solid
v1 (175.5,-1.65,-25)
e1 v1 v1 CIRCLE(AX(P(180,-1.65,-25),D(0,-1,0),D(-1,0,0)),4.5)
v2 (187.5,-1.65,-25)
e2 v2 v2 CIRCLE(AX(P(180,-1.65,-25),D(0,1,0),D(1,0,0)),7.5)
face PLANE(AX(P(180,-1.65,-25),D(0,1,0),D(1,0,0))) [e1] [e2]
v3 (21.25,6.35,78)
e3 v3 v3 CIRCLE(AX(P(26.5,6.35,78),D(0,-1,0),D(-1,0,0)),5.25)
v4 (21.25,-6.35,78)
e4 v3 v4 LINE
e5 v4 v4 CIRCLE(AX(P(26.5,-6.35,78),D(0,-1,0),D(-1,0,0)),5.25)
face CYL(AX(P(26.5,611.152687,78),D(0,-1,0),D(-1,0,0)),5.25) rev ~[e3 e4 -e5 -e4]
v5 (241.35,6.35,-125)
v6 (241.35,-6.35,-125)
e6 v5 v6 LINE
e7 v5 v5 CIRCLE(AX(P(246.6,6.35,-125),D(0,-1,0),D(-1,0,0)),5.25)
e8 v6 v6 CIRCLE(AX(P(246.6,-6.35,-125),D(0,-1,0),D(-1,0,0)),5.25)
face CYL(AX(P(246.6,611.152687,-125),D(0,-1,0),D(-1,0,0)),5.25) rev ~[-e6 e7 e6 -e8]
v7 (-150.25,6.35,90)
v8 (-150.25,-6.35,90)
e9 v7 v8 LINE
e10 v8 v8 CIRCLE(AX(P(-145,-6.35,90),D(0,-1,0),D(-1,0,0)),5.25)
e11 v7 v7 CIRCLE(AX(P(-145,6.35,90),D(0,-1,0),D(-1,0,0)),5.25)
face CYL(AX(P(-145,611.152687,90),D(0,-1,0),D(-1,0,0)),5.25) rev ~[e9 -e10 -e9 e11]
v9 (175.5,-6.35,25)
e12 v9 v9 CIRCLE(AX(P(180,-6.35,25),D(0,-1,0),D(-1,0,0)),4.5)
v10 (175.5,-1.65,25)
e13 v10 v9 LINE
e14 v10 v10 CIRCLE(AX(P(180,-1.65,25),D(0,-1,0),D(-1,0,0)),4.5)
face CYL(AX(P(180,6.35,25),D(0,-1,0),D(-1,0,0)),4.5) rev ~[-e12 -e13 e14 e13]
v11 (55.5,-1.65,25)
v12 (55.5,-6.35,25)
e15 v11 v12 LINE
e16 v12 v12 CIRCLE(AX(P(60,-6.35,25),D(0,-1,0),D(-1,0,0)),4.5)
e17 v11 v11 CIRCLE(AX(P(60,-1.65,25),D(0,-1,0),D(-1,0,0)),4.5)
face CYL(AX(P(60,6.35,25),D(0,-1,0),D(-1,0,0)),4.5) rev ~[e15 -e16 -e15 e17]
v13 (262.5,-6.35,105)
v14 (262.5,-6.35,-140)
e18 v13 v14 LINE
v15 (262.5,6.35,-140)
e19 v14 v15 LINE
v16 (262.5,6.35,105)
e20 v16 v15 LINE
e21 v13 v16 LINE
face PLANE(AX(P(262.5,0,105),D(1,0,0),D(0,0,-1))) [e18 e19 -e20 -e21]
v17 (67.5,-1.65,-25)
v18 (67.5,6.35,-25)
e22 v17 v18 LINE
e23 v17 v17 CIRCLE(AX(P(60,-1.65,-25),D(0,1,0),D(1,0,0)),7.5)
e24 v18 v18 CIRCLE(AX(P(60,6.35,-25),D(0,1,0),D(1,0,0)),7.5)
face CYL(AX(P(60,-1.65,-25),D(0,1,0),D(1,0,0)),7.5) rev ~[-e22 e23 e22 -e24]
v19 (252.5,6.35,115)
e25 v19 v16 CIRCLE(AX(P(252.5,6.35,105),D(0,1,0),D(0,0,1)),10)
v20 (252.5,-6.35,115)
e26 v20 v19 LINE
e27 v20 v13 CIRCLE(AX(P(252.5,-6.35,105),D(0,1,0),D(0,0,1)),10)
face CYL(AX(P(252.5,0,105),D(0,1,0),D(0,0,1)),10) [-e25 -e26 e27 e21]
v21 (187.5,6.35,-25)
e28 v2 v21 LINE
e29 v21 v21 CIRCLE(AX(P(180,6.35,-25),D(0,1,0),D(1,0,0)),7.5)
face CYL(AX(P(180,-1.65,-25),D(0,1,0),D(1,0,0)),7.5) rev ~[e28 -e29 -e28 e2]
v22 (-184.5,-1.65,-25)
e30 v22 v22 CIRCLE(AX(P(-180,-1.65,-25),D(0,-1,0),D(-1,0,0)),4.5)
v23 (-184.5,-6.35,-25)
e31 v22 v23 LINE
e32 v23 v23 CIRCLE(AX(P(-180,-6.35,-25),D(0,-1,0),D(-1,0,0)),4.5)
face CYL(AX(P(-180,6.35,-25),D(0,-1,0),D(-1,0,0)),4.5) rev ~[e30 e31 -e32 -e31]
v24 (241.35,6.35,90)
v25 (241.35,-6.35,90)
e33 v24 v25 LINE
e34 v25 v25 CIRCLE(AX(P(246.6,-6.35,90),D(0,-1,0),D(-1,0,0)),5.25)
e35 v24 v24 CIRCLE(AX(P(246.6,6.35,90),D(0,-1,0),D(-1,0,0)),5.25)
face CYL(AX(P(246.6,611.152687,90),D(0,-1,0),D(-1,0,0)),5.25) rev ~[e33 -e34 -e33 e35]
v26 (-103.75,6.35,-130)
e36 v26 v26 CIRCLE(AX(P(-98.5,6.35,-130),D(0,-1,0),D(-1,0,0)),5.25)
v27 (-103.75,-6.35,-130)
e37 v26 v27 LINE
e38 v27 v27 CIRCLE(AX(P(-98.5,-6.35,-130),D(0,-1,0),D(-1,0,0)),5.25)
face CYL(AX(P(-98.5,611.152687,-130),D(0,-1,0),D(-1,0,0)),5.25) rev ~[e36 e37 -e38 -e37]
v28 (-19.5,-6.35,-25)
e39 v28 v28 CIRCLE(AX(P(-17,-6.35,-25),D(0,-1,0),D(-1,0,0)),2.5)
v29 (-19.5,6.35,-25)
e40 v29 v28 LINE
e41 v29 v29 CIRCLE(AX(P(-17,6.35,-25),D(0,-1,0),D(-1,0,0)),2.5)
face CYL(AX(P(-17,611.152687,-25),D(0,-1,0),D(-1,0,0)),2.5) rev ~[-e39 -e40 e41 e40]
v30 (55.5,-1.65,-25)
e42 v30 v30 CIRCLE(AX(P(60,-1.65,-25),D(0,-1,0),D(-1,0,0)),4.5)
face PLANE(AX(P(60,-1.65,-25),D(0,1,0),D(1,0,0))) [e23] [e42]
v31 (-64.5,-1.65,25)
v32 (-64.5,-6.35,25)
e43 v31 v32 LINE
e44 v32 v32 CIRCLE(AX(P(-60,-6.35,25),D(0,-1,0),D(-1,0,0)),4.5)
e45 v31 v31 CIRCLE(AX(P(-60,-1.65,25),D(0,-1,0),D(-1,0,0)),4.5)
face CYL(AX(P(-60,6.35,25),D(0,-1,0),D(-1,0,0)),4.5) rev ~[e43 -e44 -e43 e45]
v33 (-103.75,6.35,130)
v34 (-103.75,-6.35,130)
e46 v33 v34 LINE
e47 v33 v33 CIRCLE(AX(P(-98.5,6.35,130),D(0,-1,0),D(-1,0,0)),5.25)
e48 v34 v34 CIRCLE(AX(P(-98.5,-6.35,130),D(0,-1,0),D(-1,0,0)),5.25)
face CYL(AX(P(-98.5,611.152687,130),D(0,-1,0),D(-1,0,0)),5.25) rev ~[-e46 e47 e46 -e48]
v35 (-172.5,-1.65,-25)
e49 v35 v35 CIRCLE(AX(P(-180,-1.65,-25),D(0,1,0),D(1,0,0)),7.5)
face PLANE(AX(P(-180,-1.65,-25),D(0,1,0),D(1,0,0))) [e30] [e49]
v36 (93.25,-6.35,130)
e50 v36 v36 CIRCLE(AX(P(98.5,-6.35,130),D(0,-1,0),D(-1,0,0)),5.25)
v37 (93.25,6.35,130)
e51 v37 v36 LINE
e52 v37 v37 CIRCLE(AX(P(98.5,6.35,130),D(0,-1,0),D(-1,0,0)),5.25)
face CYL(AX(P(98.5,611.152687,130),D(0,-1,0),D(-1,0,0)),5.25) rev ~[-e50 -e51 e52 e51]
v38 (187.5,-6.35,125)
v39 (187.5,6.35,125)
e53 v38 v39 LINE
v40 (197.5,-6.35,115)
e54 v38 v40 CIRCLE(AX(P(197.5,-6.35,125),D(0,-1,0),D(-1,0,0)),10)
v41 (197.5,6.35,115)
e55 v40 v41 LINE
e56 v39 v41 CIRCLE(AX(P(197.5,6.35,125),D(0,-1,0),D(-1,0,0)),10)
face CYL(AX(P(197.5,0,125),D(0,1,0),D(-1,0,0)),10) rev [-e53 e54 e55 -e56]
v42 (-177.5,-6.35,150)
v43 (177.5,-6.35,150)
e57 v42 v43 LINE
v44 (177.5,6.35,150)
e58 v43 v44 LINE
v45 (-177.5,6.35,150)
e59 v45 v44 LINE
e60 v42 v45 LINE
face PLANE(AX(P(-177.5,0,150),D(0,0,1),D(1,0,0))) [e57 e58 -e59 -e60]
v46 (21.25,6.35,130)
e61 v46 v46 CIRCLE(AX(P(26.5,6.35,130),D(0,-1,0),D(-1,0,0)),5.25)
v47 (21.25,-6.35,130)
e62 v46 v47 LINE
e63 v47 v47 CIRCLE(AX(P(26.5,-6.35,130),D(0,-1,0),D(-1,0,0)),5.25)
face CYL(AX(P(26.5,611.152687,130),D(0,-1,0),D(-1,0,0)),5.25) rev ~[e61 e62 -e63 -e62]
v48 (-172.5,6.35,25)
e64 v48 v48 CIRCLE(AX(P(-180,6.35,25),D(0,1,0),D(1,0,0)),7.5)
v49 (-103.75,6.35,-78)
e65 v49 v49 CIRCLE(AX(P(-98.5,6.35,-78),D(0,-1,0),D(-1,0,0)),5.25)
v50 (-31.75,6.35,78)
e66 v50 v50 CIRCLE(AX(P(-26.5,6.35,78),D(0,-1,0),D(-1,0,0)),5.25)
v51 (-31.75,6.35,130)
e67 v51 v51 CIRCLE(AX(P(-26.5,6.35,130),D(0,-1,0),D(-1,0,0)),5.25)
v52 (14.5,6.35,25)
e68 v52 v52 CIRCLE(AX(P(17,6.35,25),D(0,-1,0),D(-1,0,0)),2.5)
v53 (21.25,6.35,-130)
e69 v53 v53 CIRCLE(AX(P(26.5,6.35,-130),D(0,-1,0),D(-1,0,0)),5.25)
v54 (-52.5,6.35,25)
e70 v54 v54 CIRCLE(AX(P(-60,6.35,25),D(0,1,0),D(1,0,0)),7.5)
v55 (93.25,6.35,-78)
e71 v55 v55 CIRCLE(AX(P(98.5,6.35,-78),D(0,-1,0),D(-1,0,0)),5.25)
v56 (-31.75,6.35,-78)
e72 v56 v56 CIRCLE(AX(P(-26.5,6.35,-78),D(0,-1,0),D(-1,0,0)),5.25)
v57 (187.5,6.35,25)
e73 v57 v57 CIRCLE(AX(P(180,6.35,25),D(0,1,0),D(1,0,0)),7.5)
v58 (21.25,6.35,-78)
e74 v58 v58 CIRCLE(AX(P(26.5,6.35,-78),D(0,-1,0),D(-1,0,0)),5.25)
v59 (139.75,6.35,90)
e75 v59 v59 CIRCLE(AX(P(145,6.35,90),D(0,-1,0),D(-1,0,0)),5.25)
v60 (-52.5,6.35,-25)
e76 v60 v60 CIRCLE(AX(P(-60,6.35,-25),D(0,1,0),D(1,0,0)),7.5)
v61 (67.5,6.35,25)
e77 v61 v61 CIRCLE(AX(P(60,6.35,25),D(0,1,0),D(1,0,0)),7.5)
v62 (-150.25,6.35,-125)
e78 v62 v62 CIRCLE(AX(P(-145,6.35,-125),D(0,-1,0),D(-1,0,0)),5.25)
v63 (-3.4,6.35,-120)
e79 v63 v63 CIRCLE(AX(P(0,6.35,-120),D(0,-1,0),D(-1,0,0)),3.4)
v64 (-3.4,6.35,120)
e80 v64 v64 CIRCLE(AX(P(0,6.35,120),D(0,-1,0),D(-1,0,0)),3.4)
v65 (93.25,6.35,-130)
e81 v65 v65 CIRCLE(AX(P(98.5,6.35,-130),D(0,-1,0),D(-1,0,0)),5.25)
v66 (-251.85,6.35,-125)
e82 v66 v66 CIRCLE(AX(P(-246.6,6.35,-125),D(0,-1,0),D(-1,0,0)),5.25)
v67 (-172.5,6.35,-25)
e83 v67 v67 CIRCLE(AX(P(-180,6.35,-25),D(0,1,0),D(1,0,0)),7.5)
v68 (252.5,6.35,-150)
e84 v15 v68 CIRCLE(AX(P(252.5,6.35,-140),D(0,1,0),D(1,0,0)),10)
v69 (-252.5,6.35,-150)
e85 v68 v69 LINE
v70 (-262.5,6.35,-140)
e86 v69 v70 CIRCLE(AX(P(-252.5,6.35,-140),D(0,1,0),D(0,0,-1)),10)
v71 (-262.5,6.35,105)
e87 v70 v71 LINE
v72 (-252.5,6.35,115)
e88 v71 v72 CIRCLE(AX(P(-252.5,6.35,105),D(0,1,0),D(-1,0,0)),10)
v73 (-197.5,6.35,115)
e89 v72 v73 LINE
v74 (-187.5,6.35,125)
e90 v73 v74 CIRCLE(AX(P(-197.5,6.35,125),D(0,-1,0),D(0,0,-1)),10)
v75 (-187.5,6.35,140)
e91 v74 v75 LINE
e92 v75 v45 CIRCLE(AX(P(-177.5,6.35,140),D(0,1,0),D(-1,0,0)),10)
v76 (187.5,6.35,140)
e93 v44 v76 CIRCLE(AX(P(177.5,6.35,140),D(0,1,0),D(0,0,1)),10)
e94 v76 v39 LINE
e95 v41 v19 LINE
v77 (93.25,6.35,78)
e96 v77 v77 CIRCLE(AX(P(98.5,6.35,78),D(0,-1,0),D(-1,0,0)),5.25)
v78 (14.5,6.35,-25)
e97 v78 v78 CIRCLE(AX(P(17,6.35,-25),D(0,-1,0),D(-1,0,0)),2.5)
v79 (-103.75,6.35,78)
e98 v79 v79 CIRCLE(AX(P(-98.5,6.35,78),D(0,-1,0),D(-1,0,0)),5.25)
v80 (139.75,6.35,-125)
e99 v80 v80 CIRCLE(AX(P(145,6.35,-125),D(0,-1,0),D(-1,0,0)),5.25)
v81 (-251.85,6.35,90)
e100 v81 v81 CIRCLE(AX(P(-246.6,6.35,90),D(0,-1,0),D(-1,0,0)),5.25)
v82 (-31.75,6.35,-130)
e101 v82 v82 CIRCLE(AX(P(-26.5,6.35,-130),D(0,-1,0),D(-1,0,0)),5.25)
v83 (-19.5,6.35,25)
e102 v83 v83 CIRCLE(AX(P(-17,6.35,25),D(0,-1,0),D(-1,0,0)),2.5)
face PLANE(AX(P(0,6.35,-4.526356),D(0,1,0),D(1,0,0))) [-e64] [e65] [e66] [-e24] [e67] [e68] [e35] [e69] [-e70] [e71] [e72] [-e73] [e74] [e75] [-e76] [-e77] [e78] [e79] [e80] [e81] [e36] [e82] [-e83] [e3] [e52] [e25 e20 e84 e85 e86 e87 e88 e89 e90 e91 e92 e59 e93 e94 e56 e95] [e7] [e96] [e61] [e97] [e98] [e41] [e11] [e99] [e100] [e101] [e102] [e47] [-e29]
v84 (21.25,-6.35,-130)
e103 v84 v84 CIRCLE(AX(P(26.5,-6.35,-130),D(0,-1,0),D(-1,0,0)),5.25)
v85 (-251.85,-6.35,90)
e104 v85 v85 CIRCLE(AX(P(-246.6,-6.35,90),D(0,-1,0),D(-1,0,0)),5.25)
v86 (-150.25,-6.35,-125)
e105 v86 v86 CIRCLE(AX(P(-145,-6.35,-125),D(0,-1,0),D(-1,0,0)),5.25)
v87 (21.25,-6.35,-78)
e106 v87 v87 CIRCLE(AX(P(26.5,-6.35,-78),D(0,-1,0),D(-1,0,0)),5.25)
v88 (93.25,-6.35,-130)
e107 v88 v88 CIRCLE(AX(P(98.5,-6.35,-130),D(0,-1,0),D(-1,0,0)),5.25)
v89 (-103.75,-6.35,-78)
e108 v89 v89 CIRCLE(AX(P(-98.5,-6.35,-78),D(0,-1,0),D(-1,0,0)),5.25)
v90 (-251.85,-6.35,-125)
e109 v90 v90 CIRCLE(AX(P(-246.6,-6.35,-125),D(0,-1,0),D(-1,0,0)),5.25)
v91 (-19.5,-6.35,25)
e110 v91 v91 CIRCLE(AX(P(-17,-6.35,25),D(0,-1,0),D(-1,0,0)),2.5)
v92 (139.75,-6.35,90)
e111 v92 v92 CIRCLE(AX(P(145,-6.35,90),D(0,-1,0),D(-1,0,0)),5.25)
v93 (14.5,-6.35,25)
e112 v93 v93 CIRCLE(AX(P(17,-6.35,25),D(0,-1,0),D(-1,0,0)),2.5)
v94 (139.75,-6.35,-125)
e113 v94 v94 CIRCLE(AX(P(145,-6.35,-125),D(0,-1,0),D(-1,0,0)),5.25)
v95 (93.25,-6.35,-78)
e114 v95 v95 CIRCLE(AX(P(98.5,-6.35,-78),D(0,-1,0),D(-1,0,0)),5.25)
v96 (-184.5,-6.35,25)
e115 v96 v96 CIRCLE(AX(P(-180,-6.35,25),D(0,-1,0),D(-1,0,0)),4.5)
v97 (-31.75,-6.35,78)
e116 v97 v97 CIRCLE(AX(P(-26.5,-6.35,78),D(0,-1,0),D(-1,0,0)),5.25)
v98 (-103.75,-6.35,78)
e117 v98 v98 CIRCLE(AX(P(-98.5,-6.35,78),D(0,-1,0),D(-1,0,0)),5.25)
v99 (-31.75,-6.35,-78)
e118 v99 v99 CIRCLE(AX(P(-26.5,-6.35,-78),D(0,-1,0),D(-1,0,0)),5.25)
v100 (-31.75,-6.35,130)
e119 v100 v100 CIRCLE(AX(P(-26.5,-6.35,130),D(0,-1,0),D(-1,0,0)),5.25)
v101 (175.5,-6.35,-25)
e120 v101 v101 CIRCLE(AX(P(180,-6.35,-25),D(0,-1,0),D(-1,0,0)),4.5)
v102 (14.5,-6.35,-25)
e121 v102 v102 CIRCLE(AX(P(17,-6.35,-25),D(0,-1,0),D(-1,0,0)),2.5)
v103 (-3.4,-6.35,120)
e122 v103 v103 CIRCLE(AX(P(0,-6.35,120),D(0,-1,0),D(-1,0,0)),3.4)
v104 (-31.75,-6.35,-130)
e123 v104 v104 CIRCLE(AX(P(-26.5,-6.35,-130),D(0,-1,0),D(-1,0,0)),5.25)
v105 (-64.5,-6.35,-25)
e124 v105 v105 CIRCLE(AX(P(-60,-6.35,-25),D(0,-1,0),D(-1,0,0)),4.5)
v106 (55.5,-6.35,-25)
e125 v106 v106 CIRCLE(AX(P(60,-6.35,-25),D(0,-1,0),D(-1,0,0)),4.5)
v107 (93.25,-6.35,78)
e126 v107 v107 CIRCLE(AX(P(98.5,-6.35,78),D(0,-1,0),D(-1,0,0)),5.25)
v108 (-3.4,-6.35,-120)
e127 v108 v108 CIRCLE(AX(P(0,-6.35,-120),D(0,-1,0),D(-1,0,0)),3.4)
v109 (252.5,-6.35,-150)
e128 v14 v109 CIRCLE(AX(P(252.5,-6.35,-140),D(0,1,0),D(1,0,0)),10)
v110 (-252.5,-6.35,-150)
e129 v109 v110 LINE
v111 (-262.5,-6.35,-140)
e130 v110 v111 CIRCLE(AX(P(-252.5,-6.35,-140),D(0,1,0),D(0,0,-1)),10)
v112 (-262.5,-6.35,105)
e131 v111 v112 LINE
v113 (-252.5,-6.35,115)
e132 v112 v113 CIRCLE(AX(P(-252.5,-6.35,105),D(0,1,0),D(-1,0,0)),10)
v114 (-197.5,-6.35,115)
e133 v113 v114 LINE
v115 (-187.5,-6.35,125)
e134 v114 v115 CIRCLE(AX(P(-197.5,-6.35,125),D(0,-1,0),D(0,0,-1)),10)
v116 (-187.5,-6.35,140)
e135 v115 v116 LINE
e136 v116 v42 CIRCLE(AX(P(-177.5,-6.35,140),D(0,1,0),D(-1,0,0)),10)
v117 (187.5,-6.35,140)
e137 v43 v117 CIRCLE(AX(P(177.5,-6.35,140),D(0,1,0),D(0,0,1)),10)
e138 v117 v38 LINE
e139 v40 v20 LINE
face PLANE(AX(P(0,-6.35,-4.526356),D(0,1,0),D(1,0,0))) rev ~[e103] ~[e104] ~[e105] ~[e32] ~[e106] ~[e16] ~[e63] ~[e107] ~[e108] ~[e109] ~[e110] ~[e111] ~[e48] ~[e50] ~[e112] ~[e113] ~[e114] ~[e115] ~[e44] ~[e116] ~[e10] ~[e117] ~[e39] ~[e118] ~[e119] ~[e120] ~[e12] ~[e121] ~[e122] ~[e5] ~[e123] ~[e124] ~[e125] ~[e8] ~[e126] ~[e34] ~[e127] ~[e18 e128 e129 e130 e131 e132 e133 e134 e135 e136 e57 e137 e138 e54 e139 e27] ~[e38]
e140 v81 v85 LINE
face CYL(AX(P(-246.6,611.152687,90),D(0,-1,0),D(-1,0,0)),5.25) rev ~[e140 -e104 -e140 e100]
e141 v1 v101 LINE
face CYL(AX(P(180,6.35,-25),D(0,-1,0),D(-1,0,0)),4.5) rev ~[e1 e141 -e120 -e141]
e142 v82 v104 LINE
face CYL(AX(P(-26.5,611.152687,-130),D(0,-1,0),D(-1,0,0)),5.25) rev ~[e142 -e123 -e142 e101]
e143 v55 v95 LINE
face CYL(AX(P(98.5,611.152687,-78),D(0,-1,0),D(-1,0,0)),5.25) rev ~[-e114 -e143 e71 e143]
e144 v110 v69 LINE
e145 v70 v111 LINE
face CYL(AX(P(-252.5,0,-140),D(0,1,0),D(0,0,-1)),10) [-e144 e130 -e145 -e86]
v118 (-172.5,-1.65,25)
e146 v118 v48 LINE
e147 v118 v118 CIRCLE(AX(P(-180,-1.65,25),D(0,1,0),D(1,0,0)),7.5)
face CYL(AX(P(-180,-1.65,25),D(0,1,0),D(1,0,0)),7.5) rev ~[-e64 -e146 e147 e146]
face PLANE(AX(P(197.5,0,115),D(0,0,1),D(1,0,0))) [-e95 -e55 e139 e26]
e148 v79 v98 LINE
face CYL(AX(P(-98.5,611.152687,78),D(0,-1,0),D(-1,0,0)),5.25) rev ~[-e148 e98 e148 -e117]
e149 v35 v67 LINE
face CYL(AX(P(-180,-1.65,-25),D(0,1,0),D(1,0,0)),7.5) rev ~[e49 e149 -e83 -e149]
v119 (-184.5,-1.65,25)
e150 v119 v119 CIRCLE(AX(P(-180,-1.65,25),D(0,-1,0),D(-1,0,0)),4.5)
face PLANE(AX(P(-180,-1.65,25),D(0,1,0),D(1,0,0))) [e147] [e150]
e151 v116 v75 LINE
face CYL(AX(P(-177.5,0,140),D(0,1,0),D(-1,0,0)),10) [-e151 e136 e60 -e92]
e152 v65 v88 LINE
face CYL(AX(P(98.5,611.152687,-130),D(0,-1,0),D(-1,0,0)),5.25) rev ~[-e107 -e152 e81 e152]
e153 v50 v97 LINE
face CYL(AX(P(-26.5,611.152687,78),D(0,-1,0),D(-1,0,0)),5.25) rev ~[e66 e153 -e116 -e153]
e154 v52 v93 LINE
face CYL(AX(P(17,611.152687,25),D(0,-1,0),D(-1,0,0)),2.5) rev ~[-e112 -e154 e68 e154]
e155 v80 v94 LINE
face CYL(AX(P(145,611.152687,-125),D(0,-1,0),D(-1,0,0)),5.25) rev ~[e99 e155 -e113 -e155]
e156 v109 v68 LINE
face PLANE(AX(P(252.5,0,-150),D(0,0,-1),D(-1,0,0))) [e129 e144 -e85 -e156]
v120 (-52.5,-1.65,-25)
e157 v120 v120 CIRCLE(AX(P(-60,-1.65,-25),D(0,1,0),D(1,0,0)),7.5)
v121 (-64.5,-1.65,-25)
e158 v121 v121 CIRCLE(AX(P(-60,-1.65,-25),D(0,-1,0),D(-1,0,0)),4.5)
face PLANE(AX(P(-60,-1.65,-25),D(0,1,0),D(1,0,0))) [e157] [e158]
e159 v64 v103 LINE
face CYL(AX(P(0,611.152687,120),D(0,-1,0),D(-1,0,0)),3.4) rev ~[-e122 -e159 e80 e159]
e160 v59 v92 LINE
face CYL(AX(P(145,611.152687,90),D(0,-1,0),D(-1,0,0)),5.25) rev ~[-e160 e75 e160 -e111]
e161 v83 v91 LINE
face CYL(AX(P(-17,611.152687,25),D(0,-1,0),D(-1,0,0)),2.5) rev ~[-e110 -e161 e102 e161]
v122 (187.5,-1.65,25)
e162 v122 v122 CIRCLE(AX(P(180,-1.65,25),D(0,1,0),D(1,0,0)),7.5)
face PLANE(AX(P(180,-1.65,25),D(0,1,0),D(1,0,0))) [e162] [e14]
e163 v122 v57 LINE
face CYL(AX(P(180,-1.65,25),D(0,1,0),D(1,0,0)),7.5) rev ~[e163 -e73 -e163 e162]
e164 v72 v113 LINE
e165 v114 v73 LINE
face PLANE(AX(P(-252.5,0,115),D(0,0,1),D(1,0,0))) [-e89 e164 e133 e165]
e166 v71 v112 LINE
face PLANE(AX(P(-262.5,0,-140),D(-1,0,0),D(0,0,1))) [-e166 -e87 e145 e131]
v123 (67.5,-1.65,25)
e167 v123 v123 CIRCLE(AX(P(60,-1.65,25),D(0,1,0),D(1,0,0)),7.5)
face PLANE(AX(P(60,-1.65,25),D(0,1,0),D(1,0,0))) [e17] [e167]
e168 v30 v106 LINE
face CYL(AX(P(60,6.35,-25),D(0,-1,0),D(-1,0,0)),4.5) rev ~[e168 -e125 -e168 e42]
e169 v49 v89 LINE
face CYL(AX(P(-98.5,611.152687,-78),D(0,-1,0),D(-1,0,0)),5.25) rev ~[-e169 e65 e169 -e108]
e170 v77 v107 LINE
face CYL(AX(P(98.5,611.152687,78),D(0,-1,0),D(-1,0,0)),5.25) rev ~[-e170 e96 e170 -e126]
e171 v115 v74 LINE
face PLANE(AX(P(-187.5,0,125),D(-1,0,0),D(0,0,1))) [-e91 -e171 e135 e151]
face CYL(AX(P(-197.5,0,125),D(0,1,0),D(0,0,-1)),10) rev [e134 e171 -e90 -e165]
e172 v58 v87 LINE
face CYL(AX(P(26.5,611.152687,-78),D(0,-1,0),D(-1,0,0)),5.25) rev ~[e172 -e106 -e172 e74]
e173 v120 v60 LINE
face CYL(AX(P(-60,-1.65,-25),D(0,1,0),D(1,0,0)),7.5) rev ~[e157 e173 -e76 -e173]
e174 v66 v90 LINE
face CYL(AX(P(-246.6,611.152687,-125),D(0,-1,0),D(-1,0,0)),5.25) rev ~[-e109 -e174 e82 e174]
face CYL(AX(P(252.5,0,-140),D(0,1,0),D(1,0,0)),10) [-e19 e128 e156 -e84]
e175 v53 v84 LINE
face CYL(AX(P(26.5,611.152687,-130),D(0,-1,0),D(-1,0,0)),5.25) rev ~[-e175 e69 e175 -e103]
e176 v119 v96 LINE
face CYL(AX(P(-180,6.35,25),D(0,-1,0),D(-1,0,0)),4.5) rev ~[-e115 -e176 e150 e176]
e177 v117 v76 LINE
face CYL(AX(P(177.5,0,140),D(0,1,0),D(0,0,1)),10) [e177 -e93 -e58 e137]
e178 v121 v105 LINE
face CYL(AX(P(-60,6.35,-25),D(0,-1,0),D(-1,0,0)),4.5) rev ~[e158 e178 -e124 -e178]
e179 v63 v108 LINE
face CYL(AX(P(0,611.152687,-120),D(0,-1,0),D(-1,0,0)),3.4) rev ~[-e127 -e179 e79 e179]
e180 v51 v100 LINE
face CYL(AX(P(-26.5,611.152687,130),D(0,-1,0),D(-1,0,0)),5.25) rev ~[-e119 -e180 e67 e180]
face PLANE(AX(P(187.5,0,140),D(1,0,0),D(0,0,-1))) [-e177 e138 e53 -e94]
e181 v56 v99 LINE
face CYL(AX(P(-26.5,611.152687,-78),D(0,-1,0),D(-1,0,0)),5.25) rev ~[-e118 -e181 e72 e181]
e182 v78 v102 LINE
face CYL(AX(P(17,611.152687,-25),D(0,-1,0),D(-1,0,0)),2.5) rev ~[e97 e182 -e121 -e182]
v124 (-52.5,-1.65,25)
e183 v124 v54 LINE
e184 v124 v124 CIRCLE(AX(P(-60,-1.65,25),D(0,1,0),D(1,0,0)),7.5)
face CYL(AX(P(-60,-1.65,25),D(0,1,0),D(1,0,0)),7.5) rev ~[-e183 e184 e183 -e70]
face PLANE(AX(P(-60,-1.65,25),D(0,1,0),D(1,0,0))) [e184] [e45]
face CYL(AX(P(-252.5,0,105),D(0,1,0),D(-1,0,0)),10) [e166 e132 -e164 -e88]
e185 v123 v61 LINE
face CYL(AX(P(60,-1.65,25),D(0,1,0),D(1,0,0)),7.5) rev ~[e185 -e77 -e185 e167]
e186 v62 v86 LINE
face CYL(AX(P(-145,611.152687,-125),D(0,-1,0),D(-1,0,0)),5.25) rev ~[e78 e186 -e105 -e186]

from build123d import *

# Parameters (mm, degrees)
BOSS_EXTRUDE1_DEPTH            = 6.35
M10_CLEARANCE_HOLE1_D          = 10.5
CBORE_FOR_M8_SHCS1_D           = 9
CBORE_FOR_M8_SHCS1_CBORE_D     = 15
CBORE_FOR_M8_SHCS1_CBORE_DEPTH = 8
LPATTERN1_COUNT                = 2
LPATTERN1_PITCH                = 120
LPATTERN1_COL_COUNT            = 3
LPATTERN1_COL_PITCH            = 120
M6X1_0_TAPPED_HOLE1_D          = 5
M8X1_25_TAPPED_HOLE1_D         = 6.8


with BuildPart() as part:
    # Sketch1 → Boss-Extrude1 (new, symmetric)
    with BuildSketch(Plane(origin=(0, 0, 0), x_dir=(1, 0, 0), z_dir=(0, 1, 0))):
        with BuildLine():
            Line((-252.5, -115), (-197.5, -115))
            ThreePointArc((-197.5, -115), (-190.428932188, -117.928932188), (-187.5, -125))
            Line((-187.5, -125), (-187.5, -140))
            ThreePointArc((-187.5, -140), (-184.571067812, -147.071067812), (-177.5, -150))
            Line((-177.5, -150), (177.5, -150))
            ThreePointArc((177.5, -150), (184.571067812, -147.071067812), (187.5, -140))
            Line((187.5, -140), (187.5, -125))
            ThreePointArc((187.5, -125), (190.428932188, -117.928932188), (197.5, -115))
            Line((197.5, -115), (252.5, -115))
            ThreePointArc((252.5, -115), (259.571067812, -112.071067812), (262.5, -105))
            Line((262.5, -105), (262.5, 140))
            ThreePointArc((262.5, 140), (259.571067812, 147.071067812), (252.5, 150))
            Line((252.5, 150), (-252.5, 150))
            ThreePointArc((-252.5, 150), (-259.571067812, 147.071067812), (-262.5, 140))
            Line((-262.5, 140), (-262.5, -105))
            ThreePointArc((-262.5, -105), (-259.571067812, -112.071067812), (-252.5, -115))
        make_face()
    extrude(amount=BOSS_EXTRUDE1_DEPTH, both=True)

    # M10 Clearance Hole1 (through all)
    with Locations(Plane(origin=(0, 6.35, 0), x_dir=(1, 0, 0), z_dir=(0, 1, 0))):
        with Locations((-98.5, -130), (-26.5, -130), (-26.5, -78), (-98.5, -78), (98.5, -78), (26.5, -78), (26.5, -130), (98.5, -130), (98.5, 130), (26.5, 130), (26.5, 78), (98.5, 78), (-98.5, 78), (-26.5, 78), (-26.5, 130), (-98.5, 130), (-246.6, 125), (-145, 125), (-145, -90), (-246.6, -90), (145, -90), (246.6, -90), (145, 125), (246.6, 125)):
            Hole(M10_CLEARANCE_HOLE1_D / 2)

    # CBORE for M8 SHCS1 (through all)
    with Locations(Plane(origin=(0, 6.35, 0), x_dir=(1, 0, 0), z_dir=(0, 1, 0))):
        with Locations((60, 25), (60, -25)):
            cbore_for_m8_shcs1 = CounterBoreHole(CBORE_FOR_M8_SHCS1_D / 2, CBORE_FOR_M8_SHCS1_CBORE_D / 2, CBORE_FOR_M8_SHCS1_CBORE_DEPTH)

    # LPattern1: CBORE for M8 SHCS1 ×2
    with Locations(*[(i * LPATTERN1_PITCH, 0, 0) for i in range(1, LPATTERN1_COUNT)]):
        add(cbore_for_m8_shcs1, mode=Mode.SUBTRACT)

    # LPattern1 col: CBORE for M8 SHCS1 ×3
    with Locations(*[(-i * LPATTERN1_COL_PITCH, 0, 0) for i in range(1, LPATTERN1_COL_COUNT)]):
        add(cbore_for_m8_shcs1, mode=Mode.SUBTRACT)

    # M6x1.0 Tapped Hole1 (through all)
    with Locations(Plane(origin=(0, 6.35, 0), x_dir=(1, 0, 0), z_dir=(0, 1, 0))):
        with Locations((17, 25), (17, -25), (-17, -25), (-17, 25)):
            Hole(M6X1_0_TAPPED_HOLE1_D / 2)

    # M8x1.25 Tapped Hole1 (through all)
    with Locations(Plane(origin=(0, 6.35, 0), x_dir=(1, 0, 0), z_dir=(0, 1, 0))):
        with Locations((0, -120), (0, 120)):
            Hole(M8X1_25_TAPPED_HOLE1_D / 2)


solid = part.part
